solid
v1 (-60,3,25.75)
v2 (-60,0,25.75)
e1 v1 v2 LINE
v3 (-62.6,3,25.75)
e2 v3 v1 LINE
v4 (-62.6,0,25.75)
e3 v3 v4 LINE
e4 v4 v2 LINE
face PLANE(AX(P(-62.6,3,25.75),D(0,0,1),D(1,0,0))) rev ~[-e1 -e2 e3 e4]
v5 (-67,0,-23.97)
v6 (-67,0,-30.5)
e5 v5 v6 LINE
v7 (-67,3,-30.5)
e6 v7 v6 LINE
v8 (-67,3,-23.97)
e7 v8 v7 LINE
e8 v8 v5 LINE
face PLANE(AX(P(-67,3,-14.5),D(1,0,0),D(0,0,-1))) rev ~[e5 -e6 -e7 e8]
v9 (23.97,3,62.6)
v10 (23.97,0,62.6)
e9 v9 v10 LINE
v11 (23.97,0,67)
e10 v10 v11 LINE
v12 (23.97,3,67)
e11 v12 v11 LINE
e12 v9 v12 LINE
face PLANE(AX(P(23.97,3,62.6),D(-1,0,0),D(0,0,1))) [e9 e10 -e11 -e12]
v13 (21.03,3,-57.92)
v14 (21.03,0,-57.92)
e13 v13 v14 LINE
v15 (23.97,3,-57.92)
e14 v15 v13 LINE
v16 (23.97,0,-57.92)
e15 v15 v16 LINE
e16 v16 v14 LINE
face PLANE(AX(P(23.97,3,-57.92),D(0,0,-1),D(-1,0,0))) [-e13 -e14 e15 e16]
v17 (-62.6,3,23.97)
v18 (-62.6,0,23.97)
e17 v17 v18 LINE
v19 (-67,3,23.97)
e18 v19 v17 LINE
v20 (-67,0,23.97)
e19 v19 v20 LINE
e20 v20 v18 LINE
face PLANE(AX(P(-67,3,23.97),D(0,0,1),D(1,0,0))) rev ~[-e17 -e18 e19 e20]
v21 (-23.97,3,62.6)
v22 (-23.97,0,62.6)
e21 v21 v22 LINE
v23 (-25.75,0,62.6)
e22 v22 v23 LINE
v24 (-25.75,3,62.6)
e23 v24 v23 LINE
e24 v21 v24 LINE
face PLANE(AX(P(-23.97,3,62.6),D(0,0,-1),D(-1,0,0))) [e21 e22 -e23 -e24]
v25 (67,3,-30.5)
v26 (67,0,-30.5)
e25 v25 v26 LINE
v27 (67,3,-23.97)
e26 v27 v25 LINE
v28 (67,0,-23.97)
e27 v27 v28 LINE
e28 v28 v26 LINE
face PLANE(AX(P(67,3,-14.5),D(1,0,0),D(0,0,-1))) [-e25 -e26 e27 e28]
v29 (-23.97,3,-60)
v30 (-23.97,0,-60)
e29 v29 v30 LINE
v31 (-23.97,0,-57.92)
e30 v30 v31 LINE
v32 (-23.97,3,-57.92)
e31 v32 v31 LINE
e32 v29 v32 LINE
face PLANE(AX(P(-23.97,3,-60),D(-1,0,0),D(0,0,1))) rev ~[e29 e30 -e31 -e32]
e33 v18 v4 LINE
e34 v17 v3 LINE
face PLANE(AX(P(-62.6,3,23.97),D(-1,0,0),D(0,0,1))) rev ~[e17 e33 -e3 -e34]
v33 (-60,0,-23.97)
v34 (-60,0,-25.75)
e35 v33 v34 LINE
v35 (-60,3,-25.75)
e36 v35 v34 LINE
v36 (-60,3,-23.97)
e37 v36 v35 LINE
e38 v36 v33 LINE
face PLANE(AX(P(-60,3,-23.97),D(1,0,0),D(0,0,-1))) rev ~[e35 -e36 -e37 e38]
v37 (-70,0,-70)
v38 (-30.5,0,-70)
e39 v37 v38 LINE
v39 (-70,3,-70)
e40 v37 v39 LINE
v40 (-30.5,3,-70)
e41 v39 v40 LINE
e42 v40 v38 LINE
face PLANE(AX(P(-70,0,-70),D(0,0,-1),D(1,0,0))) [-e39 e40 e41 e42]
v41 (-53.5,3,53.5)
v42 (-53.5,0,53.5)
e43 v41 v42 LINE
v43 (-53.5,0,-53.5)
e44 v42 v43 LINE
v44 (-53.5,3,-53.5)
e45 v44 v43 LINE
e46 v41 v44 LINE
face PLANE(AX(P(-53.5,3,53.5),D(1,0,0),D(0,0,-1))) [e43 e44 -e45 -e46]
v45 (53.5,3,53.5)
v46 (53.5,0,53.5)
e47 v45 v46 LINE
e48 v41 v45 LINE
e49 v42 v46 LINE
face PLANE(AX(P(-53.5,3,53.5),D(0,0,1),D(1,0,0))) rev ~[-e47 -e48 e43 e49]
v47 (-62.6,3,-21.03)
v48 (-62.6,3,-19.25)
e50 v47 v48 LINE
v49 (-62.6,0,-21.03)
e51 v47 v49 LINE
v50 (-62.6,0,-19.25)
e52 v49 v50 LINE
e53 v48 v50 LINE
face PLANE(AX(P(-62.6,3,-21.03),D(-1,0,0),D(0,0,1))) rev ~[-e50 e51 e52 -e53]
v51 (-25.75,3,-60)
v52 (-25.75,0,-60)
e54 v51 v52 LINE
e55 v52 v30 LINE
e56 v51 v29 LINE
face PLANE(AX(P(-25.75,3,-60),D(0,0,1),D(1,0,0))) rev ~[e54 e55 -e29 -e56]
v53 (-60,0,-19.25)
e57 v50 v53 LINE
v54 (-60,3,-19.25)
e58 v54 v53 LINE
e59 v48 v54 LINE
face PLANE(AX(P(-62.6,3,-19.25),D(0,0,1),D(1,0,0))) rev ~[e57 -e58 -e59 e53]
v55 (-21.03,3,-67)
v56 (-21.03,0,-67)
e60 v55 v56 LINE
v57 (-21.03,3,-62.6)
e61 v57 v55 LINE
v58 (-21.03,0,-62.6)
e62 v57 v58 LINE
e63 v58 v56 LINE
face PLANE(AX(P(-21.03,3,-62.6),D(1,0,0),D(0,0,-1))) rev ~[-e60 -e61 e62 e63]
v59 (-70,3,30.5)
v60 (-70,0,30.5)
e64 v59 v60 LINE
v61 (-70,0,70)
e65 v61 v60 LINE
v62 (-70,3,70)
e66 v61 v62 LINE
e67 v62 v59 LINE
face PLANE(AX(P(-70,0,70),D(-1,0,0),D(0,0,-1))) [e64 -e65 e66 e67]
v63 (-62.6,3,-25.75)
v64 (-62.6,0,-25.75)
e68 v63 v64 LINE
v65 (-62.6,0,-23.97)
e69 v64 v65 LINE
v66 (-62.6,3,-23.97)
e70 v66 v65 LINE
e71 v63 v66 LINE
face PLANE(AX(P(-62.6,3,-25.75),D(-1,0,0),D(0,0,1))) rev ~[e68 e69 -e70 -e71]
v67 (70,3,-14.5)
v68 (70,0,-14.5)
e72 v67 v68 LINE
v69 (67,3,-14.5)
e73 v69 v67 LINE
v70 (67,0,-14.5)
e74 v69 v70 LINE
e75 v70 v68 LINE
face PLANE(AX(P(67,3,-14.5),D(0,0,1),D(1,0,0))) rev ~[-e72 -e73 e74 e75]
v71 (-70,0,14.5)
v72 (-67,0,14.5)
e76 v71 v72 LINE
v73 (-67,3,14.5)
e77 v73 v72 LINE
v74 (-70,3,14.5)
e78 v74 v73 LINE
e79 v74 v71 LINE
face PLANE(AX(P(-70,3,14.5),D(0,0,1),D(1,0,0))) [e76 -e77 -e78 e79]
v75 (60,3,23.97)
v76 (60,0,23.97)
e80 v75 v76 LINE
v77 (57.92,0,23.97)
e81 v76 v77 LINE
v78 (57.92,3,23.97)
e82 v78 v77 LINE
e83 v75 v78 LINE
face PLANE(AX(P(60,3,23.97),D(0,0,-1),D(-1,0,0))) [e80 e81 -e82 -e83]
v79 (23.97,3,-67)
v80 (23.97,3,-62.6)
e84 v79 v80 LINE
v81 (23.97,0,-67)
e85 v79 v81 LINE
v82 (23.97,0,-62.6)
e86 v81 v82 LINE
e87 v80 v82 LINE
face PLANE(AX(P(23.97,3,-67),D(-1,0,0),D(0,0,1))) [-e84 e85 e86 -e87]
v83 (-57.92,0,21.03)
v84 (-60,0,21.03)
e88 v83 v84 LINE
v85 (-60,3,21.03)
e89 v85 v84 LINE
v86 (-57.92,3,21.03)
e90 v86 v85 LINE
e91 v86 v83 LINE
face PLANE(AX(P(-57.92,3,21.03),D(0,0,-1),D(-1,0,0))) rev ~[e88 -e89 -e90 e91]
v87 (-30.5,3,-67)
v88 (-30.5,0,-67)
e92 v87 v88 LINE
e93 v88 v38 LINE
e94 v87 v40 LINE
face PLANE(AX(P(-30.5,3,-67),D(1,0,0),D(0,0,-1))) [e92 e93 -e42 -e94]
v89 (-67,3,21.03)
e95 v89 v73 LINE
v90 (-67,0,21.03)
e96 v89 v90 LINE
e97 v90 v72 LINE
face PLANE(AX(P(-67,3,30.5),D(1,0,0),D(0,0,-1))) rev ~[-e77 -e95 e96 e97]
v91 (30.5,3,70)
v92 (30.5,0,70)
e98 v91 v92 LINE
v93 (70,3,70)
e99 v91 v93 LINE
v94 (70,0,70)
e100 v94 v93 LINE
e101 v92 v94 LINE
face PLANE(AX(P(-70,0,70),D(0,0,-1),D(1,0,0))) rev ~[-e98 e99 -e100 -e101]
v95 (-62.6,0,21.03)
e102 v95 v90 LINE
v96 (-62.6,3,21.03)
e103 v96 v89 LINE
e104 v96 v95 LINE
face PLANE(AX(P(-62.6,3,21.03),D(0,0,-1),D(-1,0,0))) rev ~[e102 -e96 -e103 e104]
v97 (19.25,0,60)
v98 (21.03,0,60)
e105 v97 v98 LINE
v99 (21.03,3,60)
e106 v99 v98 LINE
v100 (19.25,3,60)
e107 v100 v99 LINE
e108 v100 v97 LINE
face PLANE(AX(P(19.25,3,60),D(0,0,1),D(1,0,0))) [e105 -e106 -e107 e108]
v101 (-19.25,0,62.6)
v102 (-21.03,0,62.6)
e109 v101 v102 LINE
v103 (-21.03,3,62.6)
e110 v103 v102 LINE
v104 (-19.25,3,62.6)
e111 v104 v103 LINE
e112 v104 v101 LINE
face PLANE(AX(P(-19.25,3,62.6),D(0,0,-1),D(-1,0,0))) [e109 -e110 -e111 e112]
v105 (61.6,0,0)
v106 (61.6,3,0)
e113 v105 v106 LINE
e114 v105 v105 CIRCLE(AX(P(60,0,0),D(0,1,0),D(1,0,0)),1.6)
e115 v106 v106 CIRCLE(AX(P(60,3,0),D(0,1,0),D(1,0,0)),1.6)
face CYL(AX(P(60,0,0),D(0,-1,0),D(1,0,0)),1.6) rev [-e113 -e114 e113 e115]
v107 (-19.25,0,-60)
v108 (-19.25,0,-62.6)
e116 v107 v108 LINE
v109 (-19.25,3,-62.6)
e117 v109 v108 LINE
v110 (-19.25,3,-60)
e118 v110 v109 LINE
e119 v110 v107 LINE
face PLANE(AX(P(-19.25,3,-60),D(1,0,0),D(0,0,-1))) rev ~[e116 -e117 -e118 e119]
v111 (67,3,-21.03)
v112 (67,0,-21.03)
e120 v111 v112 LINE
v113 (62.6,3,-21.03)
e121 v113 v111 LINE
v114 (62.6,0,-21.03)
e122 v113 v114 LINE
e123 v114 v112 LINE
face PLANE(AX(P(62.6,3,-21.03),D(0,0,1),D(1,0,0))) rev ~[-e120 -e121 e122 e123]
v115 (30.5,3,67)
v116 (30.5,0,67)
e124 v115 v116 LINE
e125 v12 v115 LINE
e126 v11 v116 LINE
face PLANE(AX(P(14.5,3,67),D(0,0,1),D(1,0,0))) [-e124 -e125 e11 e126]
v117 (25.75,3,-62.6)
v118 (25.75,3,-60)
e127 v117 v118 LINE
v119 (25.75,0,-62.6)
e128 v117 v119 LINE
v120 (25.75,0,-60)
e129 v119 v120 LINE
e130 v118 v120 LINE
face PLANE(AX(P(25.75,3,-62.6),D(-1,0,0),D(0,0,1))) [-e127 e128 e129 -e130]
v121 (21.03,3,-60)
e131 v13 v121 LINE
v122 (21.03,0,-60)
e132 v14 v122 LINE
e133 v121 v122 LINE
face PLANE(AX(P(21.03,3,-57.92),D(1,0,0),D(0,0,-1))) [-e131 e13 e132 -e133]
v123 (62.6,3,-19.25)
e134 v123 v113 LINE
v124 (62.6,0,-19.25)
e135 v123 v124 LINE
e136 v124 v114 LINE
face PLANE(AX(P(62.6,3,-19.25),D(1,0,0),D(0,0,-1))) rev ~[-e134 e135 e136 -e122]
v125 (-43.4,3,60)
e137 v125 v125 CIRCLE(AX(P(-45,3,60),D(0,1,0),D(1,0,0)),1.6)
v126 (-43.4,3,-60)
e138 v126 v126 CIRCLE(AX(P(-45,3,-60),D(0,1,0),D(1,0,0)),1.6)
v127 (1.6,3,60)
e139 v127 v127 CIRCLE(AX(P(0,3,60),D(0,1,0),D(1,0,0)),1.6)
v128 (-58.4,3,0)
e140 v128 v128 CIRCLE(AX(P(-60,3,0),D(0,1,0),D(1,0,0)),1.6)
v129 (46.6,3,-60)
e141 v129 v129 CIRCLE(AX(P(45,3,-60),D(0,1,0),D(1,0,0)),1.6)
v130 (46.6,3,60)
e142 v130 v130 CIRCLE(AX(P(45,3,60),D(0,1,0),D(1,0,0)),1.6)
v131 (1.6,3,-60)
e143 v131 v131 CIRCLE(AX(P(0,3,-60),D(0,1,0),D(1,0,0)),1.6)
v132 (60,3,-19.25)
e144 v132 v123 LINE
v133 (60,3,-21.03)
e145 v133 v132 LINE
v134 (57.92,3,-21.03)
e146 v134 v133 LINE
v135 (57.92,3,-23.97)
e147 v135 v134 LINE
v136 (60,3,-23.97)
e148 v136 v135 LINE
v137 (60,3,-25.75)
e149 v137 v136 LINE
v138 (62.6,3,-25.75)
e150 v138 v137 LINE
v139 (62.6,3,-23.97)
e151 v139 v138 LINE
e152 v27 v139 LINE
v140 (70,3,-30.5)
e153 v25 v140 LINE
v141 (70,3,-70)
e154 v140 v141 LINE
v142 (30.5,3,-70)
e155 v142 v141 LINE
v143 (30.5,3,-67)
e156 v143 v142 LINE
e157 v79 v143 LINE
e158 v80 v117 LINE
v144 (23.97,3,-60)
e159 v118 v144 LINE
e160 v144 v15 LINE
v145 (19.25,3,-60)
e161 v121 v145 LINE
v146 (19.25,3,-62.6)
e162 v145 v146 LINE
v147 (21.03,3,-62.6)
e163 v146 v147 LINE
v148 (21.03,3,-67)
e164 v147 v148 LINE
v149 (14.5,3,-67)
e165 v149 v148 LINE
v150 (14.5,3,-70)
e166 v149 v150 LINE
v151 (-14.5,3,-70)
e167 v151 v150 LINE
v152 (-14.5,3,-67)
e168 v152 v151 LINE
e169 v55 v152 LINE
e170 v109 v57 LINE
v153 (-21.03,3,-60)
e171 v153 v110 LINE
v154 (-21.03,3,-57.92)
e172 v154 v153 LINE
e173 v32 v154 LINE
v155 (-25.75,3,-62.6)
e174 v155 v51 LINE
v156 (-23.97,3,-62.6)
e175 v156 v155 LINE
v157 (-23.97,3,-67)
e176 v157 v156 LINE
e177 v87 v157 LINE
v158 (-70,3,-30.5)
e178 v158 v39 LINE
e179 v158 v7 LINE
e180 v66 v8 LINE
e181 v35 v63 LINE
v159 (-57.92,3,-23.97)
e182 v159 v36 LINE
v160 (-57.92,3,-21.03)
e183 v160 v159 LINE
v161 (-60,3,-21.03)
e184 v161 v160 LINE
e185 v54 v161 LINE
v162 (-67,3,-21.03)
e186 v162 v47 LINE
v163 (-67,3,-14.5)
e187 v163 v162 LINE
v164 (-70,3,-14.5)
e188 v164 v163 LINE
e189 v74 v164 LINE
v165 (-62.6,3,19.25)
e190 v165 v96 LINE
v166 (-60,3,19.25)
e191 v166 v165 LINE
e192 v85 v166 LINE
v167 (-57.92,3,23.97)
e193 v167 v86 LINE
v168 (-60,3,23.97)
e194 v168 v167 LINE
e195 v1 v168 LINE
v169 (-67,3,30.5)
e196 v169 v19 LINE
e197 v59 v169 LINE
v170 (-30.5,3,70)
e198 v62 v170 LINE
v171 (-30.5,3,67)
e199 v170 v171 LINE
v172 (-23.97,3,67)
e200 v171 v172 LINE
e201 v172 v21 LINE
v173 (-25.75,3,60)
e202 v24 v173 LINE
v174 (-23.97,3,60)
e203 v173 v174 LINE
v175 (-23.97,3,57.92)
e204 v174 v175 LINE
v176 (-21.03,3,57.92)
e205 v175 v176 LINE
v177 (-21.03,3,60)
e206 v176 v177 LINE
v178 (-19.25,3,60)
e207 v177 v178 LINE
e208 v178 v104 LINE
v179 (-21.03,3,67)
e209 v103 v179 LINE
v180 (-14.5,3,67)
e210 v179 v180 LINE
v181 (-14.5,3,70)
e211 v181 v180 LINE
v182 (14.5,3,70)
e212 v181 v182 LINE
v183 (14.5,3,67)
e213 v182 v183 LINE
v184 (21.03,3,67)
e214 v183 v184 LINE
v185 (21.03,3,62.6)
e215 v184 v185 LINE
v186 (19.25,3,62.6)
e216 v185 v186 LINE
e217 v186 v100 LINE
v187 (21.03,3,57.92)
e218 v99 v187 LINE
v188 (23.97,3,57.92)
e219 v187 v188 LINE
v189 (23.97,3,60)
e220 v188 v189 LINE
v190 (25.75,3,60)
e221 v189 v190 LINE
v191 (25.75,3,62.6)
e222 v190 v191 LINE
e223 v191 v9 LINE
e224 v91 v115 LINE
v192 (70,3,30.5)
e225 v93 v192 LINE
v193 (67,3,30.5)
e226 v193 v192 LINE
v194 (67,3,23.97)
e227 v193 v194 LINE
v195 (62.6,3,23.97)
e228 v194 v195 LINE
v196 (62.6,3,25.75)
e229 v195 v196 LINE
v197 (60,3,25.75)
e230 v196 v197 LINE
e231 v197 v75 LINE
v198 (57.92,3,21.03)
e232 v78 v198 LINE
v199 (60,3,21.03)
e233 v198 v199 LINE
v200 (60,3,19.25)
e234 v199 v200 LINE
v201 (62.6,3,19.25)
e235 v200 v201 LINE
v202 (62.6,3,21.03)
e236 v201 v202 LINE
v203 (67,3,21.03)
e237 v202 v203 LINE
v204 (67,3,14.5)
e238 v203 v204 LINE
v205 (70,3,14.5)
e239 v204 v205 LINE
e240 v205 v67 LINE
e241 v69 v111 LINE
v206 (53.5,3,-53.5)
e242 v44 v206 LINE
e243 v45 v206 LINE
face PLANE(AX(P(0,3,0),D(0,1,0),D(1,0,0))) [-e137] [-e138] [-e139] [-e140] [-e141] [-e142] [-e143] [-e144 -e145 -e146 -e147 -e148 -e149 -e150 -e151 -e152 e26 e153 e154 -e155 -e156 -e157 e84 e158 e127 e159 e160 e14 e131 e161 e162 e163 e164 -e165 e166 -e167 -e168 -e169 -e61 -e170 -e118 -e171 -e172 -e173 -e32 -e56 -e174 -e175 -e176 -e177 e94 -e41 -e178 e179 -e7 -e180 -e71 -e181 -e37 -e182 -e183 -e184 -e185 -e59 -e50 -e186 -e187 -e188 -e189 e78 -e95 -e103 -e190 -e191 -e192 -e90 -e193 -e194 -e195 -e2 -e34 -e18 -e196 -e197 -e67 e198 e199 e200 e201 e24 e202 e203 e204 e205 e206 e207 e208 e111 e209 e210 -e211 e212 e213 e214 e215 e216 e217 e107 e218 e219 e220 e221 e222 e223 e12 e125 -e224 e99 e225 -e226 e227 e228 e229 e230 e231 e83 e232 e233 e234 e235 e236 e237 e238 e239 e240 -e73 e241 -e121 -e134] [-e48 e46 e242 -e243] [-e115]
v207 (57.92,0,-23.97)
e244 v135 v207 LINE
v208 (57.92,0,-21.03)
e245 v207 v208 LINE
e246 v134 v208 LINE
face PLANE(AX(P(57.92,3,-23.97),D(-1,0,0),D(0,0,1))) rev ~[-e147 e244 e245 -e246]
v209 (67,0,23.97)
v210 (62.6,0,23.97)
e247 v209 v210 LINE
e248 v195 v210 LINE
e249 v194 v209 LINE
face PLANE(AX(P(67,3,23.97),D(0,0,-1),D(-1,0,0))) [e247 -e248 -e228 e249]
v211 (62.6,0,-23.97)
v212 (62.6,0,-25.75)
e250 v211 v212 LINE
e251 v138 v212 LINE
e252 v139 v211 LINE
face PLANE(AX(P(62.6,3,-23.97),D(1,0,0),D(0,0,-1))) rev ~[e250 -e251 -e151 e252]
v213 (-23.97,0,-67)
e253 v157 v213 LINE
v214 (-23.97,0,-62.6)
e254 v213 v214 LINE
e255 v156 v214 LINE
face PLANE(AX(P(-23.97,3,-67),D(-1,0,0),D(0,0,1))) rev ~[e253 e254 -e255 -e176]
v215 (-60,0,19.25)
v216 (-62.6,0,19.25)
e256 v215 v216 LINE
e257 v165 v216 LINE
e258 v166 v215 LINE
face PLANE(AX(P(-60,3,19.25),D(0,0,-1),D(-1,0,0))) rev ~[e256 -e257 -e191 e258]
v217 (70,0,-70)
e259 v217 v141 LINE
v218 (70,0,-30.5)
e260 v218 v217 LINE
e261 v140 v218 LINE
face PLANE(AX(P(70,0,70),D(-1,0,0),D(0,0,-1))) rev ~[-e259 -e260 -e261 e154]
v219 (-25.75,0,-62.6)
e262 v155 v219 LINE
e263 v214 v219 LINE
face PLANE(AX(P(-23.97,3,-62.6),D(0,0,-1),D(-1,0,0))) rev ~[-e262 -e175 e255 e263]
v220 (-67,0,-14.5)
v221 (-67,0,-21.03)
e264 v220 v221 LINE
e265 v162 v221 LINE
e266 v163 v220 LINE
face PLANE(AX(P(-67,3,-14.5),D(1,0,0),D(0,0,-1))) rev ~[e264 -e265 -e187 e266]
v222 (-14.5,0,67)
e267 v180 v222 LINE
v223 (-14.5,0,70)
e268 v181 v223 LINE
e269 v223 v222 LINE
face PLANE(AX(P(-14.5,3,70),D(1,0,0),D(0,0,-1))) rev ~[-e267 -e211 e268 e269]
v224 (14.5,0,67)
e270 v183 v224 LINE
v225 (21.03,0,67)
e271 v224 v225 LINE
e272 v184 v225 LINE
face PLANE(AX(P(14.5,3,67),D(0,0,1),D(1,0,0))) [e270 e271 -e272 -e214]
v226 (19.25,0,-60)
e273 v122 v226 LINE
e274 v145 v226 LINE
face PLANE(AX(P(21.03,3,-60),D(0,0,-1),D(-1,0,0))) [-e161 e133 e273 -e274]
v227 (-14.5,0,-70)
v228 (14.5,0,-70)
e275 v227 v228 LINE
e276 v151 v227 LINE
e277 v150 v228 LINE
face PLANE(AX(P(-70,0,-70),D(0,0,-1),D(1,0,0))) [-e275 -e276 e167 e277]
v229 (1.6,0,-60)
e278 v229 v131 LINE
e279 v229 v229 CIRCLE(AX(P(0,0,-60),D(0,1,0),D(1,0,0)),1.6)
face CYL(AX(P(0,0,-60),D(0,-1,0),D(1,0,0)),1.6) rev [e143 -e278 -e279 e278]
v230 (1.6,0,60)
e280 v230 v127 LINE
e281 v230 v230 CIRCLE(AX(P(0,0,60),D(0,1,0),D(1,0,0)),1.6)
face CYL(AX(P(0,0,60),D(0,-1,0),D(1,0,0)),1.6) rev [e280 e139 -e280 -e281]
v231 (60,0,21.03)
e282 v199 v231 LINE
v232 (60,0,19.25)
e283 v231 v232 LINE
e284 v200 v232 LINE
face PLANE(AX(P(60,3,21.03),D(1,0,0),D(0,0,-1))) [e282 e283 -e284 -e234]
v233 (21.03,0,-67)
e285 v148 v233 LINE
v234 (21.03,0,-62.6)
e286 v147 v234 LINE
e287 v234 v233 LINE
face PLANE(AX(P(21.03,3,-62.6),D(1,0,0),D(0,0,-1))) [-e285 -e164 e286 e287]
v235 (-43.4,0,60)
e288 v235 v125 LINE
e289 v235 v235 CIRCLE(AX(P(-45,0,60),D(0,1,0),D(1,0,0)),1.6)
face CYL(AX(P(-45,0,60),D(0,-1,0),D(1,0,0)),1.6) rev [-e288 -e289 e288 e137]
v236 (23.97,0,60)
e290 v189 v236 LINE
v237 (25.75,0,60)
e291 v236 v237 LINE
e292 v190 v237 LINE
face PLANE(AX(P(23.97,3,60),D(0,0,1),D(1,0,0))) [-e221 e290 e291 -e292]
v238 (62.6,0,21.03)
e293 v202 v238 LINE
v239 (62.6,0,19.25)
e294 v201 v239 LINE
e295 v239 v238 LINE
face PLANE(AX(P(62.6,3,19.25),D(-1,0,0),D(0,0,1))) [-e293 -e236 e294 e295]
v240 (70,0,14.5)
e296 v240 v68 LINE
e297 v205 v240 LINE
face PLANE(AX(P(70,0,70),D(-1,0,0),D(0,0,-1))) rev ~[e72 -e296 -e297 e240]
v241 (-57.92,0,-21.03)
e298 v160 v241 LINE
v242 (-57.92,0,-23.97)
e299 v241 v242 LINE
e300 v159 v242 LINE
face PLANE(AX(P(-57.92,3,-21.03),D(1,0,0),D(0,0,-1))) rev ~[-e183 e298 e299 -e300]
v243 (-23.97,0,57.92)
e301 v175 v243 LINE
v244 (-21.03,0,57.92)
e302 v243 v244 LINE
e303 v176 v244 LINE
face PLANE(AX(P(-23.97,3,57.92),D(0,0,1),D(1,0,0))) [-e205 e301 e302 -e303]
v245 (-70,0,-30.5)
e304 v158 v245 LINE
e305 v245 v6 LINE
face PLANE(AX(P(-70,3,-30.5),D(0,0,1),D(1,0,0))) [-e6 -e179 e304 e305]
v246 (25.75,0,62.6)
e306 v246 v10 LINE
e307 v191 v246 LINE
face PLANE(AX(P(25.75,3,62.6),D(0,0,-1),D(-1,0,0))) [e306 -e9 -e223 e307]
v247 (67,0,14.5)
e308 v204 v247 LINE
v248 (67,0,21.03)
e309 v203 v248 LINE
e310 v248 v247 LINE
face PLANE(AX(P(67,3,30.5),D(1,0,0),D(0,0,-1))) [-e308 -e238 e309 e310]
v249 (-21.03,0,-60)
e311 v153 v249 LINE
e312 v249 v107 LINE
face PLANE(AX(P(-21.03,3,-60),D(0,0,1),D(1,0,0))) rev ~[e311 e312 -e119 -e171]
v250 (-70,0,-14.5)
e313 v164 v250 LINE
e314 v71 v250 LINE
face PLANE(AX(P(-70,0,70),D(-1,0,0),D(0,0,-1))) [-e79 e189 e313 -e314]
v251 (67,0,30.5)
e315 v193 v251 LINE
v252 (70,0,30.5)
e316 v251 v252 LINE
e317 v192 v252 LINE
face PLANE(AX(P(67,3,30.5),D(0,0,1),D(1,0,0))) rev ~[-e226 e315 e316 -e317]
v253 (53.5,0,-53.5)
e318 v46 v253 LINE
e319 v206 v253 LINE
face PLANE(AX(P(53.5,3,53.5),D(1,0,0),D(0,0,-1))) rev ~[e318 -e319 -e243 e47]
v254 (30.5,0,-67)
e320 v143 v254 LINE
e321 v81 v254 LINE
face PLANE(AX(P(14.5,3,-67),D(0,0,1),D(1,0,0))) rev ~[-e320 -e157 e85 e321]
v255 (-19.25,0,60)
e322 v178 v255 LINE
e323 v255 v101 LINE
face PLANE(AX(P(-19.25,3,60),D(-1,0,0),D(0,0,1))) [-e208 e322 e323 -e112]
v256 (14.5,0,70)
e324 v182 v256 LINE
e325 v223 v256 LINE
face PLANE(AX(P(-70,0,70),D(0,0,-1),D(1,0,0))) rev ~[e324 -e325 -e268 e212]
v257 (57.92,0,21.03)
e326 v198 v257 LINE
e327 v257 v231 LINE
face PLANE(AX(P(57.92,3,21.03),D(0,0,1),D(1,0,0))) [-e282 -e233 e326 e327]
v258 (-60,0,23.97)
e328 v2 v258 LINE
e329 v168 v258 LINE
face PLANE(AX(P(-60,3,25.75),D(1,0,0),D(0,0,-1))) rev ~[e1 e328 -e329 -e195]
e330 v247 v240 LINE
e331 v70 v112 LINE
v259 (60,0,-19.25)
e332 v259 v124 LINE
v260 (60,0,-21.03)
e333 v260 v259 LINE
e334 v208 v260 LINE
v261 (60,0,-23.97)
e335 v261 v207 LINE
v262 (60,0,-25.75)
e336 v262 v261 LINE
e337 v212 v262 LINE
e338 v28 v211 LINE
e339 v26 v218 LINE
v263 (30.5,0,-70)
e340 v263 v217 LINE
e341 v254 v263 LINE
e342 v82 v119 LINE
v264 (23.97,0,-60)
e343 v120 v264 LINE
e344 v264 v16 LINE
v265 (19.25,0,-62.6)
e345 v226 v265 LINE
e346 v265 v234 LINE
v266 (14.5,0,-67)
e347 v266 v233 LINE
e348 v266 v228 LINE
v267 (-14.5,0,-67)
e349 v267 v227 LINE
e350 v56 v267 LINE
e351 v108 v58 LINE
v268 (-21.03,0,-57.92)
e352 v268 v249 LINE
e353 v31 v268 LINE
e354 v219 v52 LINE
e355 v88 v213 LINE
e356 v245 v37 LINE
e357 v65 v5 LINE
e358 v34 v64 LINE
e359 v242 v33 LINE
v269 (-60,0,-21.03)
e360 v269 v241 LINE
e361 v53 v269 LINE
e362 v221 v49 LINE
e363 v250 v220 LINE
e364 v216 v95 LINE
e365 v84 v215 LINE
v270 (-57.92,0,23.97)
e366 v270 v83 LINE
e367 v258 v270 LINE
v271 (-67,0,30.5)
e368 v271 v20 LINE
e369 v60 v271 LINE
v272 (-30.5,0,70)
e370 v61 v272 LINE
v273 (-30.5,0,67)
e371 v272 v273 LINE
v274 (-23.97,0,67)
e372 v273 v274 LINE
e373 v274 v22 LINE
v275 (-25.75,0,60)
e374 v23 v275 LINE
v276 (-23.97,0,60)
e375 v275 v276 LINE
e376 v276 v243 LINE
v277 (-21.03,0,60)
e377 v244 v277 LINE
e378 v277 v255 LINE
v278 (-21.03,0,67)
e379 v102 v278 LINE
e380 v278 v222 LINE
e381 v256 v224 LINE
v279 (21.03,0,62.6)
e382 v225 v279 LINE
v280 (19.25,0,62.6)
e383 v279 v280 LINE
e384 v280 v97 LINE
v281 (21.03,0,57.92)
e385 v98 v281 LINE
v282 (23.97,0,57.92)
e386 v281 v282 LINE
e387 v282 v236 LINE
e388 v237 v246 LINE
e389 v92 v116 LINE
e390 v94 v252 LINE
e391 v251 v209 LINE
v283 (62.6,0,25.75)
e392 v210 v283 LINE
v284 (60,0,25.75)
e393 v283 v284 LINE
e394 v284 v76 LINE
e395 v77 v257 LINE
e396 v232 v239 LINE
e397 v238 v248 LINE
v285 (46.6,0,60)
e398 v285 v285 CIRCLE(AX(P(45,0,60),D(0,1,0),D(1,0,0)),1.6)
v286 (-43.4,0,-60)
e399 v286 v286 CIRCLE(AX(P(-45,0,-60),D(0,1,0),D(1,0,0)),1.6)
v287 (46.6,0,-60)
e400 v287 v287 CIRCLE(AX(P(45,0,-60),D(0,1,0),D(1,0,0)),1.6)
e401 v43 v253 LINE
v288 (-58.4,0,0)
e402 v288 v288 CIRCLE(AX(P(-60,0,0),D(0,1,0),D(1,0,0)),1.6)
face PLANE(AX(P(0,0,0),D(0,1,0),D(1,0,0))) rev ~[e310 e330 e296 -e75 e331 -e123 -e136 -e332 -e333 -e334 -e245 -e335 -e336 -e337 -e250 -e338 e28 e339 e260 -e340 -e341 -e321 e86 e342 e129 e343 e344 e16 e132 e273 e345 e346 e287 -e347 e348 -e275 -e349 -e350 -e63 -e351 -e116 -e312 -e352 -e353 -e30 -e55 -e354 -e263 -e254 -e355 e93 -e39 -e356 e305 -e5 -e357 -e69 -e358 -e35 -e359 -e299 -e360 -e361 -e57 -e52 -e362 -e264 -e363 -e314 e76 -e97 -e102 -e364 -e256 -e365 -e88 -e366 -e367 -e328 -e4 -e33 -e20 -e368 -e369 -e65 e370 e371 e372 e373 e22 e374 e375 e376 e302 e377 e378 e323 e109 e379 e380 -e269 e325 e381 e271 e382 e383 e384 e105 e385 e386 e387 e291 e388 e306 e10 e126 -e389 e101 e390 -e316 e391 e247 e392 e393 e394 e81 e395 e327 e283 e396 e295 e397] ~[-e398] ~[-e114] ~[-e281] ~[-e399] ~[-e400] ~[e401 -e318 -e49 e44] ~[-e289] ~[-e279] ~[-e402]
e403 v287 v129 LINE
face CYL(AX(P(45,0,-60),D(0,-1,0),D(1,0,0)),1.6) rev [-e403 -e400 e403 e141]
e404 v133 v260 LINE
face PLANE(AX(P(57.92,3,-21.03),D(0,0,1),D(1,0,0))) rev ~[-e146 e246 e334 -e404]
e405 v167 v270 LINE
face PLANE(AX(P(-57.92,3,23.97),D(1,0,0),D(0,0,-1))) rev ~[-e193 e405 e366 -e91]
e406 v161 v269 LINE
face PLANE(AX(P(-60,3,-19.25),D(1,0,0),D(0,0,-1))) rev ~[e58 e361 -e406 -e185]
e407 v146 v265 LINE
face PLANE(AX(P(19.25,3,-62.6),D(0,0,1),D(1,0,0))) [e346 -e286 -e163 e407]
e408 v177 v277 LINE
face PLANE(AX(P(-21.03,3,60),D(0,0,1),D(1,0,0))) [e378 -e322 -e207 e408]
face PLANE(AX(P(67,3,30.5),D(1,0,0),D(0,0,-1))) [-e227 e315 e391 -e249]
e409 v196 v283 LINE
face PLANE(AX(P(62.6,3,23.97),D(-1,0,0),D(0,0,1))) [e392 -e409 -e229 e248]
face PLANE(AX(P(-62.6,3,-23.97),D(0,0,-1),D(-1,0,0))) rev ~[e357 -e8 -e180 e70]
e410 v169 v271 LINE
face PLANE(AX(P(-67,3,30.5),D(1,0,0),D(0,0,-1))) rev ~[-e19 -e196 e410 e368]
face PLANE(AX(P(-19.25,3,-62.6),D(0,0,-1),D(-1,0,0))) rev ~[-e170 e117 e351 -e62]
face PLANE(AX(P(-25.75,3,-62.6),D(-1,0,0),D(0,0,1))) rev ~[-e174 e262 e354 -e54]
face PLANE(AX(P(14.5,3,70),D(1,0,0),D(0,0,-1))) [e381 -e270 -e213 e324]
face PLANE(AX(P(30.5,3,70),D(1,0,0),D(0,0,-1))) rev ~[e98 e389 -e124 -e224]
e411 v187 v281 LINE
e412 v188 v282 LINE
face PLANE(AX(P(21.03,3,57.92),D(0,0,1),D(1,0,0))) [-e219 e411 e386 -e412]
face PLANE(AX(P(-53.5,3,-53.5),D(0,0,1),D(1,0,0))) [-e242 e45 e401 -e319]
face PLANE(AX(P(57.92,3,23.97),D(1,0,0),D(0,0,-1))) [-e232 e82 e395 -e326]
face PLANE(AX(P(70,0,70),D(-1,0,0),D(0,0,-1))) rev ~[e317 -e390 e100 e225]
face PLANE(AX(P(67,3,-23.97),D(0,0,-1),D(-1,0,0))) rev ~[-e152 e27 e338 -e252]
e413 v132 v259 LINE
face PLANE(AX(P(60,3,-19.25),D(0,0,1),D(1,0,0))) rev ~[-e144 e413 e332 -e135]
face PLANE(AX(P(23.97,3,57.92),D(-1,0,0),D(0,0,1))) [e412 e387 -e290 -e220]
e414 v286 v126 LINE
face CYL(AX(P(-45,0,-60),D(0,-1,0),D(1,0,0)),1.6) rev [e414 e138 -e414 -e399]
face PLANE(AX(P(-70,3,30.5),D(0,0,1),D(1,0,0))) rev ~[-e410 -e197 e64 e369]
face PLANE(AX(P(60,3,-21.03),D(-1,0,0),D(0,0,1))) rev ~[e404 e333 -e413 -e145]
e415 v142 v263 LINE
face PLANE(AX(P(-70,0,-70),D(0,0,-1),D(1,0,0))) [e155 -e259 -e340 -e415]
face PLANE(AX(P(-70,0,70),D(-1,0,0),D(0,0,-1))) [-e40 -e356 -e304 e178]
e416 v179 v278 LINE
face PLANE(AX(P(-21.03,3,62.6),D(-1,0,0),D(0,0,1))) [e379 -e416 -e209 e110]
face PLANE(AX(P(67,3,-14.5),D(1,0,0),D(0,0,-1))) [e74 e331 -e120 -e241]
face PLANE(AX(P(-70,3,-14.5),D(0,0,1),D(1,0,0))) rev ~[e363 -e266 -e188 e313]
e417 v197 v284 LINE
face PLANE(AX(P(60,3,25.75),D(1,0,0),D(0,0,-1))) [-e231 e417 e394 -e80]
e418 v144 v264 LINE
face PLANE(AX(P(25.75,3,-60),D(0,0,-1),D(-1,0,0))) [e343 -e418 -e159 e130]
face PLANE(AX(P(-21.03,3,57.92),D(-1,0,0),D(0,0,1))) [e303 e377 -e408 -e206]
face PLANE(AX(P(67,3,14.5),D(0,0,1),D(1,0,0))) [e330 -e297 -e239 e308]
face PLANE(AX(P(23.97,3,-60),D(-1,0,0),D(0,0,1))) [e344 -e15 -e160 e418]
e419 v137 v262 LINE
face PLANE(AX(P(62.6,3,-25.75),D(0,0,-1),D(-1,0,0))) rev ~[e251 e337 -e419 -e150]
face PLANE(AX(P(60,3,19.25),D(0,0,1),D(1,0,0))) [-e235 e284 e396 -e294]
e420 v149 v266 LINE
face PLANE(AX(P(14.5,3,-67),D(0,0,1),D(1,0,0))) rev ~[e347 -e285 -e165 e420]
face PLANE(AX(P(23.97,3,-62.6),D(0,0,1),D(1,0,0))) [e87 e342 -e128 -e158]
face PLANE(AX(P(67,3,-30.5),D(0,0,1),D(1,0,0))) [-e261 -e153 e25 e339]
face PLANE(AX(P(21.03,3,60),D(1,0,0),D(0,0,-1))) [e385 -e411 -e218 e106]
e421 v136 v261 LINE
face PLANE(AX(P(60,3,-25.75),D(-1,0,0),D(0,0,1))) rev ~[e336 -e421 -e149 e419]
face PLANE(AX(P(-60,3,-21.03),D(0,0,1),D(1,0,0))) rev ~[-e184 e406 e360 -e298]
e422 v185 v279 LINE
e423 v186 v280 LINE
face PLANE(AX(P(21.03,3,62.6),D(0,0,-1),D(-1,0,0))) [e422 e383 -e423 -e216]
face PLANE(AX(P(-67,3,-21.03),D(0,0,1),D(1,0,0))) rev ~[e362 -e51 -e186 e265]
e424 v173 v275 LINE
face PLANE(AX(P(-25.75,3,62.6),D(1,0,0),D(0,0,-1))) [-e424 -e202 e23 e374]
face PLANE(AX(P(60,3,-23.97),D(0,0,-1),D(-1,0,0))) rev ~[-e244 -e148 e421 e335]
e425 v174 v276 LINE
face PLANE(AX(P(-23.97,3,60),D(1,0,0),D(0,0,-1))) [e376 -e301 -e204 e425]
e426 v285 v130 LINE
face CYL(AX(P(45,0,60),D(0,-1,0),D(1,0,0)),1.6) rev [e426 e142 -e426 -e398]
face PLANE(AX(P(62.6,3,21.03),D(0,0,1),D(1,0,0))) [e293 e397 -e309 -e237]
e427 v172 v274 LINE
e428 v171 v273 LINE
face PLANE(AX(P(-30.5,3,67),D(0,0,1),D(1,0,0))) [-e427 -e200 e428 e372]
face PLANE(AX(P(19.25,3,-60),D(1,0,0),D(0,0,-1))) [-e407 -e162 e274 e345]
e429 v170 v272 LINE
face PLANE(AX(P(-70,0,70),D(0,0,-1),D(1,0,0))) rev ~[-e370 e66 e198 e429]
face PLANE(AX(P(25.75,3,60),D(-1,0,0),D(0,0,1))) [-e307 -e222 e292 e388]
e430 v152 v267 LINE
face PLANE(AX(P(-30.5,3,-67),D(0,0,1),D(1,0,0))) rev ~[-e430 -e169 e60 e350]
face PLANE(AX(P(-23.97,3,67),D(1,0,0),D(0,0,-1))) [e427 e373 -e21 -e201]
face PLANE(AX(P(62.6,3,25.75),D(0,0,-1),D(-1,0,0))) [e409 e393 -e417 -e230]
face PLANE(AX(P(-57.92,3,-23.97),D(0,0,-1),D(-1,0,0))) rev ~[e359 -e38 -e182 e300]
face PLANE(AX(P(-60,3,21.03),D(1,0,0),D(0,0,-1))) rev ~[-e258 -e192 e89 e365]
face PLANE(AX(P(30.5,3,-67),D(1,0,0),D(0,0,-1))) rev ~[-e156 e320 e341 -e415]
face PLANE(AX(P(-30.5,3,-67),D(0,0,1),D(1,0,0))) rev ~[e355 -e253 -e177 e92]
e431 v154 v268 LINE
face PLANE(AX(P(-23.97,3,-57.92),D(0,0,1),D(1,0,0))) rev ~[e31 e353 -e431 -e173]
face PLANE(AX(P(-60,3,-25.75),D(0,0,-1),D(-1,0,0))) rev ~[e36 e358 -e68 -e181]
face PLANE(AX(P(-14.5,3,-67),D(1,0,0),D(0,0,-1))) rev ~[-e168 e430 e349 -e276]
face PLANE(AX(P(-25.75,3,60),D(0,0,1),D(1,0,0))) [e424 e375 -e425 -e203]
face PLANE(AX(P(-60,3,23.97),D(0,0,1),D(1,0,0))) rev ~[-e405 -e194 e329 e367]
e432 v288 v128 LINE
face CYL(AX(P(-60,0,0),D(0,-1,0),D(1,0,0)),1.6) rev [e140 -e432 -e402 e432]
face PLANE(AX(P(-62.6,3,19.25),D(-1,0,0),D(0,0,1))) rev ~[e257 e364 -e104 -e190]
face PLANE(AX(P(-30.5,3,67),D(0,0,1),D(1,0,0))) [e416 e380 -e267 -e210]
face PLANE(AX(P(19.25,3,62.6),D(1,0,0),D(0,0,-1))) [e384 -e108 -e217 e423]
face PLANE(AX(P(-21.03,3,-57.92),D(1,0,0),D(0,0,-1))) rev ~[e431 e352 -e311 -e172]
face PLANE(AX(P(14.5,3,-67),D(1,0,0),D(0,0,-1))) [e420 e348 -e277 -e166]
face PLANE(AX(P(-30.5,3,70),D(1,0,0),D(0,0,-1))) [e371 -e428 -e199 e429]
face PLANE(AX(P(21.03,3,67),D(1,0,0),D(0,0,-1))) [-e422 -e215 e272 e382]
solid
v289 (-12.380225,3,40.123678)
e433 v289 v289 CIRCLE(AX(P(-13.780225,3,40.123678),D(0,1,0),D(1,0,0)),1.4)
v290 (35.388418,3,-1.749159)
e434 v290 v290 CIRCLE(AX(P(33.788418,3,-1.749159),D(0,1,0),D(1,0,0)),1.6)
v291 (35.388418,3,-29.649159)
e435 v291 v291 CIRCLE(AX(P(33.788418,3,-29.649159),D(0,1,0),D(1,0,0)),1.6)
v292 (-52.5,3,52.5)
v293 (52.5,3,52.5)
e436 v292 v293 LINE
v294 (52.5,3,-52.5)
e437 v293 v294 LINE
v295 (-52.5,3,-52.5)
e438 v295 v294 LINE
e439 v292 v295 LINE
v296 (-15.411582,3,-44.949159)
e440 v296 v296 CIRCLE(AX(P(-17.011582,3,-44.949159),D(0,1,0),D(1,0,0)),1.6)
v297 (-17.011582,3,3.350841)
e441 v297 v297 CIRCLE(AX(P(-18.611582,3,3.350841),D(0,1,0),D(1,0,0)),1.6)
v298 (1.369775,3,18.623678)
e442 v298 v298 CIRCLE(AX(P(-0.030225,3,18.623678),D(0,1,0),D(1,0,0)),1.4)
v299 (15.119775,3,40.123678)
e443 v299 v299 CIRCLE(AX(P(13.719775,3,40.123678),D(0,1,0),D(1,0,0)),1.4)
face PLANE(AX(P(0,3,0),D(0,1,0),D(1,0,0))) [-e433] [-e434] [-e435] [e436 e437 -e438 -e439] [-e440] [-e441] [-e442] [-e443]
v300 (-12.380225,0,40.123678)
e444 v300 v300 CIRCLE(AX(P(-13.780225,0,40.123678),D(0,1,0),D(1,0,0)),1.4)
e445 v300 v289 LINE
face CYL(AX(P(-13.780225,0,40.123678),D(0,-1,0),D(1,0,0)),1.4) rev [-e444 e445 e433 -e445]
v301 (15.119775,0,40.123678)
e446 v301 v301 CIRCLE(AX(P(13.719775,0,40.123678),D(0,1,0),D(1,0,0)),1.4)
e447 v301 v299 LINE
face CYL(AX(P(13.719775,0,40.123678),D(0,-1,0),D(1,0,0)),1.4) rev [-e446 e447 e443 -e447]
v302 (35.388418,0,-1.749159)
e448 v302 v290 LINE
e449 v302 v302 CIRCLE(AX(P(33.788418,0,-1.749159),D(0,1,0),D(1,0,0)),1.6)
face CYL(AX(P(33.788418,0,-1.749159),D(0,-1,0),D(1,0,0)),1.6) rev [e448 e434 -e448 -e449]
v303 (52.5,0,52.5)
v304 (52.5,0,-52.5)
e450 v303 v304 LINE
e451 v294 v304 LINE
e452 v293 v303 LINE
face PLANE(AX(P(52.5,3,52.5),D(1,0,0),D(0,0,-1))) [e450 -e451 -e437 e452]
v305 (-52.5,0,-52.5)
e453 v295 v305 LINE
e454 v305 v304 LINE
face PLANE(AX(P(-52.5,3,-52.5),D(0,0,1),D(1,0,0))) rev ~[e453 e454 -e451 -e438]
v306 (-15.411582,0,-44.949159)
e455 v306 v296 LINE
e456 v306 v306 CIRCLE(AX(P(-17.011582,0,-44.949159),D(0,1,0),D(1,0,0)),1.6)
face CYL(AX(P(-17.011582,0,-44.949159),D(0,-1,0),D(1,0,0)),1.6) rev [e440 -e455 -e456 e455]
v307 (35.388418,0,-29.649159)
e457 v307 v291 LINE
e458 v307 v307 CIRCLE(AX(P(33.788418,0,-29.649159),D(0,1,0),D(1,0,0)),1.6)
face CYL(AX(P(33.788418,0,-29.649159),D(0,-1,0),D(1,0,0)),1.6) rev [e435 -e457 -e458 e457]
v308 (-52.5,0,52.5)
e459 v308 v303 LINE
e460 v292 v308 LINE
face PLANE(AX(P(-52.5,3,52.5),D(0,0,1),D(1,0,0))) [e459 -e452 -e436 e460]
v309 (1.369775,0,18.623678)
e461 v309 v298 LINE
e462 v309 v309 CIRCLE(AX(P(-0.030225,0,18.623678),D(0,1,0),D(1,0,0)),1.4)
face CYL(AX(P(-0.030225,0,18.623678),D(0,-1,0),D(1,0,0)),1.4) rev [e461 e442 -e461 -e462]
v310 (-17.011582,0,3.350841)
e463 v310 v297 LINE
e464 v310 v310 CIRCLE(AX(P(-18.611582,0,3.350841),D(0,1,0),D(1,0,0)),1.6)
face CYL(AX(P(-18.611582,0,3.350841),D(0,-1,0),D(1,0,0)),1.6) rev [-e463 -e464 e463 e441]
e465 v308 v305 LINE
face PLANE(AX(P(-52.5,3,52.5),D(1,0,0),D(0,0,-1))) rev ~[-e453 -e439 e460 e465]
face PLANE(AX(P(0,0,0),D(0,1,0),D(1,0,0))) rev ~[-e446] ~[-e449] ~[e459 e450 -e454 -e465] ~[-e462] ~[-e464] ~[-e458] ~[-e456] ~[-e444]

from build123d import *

# Parameters (mm, degrees)
SKETCH2_W           = 140
SKETCH2_H           = 140
SKETCH2_R           = 1.6
SKETCH2_R_2         = 1.4
BOSS_EXTRUDE2_DEPTH = 3
SKETCH3_W           = 16
SKETCH3_H           = 3
SKETCH3_W_2         = 3
SKETCH3_H_2         = 16
CUT_EXTRUDE2_DEPTH  = 3
CUT_EXTRUDE3_DEPTH  = 3
SKETCH5_W           = 107
SKETCH5_H           = 107
SKETCH5_W_2         = 105
SKETCH5_H_2         = 105
CUT_EXTRUDE5_DEPTH  = 3


with BuildPart() as part:
    # Sketch2 → Boss-Extrude2 (new body)
    with BuildSketch(Plane(origin=(0, 0, 0), x_dir=(1, 0, 0), z_dir=(0, 1, 0))):
        Rectangle(SKETCH2_W, SKETCH2_H)
        with Locations((-17.011581703, 44.949159058)):
            Circle(SKETCH2_R, mode=Mode.SUBTRACT)
        with Locations((-18.611581703, -3.350840942)):
            Circle(SKETCH2_R, mode=Mode.SUBTRACT)
        with Locations((33.788418297, 29.649159058)):
            Circle(SKETCH2_R, mode=Mode.SUBTRACT)
        with Locations((33.788418297, 1.749159058)):
            Circle(SKETCH2_R, mode=Mode.SUBTRACT)
        with Locations((0, 60)):
            Circle(SKETCH2_R, mode=Mode.SUBTRACT)
        with Locations((-60, 0)):
            Circle(SKETCH2_R, mode=Mode.SUBTRACT)
        with Locations((0, -60)):
            Circle(SKETCH2_R, mode=Mode.SUBTRACT)
        with Locations((60, 0)):
            Circle(SKETCH2_R, mode=Mode.SUBTRACT)
        with Locations((-45, 60)):
            Circle(SKETCH2_R, mode=Mode.SUBTRACT)
        with Locations((45, 60)):
            Circle(SKETCH2_R, mode=Mode.SUBTRACT)
        with Locations((-45, -60)):
            Circle(SKETCH2_R, mode=Mode.SUBTRACT)
        with Locations((45, -60)):
            Circle(SKETCH2_R, mode=Mode.SUBTRACT)
        with Locations((-0.030225379, -18.62367845)):
            Circle(SKETCH2_R_2, mode=Mode.SUBTRACT)
        with Locations((-13.780225379, -40.12367845)):
            Circle(SKETCH2_R_2, mode=Mode.SUBTRACT)
        with Locations((13.719774621, -40.12367845)):
            Circle(SKETCH2_R_2, mode=Mode.SUBTRACT)
    extrude(amount=BOSS_EXTRUDE2_DEPTH)

    # Sketch3 → Cut-Extrude2 (cut)
    with BuildSketch(Plane(origin=(0, 3, 0), x_dir=(1, 0, 0), z_dir=(0, 1, 0))):
        with Locations((-22.5, 68.5)):
            Rectangle(SKETCH3_W, SKETCH3_H)
        with Locations((-22.5, -68.5)):
            Rectangle(SKETCH3_W, SKETCH3_H)
        with Locations((22.5, -68.5)):
            Rectangle(SKETCH3_W, SKETCH3_H)
        with Locations((22.5, 68.5)):
            Rectangle(SKETCH3_W, SKETCH3_H)
        with Locations((-68.5, 22.5)):
            Rectangle(SKETCH3_W_2, SKETCH3_H_2)
        with Locations((68.5, 22.5)):
            Rectangle(SKETCH3_W_2, SKETCH3_H_2)
        with Locations((68.5, -22.5)):
            Rectangle(SKETCH3_W_2, SKETCH3_H_2)
        with Locations((-68.5, -22.5)):
            Rectangle(SKETCH3_W_2, SKETCH3_H_2)
    extrude(amount=-CUT_EXTRUDE2_DEPTH, mode=Mode.SUBTRACT)

    # Sketch4 → Cut-Extrude3 (cut)
    with BuildSketch(Plane(origin=(0, 3, 0), x_dir=(1, 0, 0), z_dir=(0, 1, 0))):
        Polygon((-23.97, 67), (-23.97, 62.6), (-25.75, 62.6), (-25.75, 60), (-23.97, 60), (-23.97, 57.92), (-21.03, 57.92), (-21.03, 60), (-19.25, 60), (-19.25, 62.6), (-21.03, 62.6), (-21.03, 67), align=None)
        Polygon((-23.97, -62.6), (-25.75, -62.6), (-25.75, -60), (-23.97, -60), (-23.97, -57.92), (-21.03, -57.92), (-21.03, -60), (-19.25, -60), (-19.25, -62.6), (-21.03, -62.6), (-21.03, -67), (-23.97, -67), align=None)
        Polygon((21.03, -60), (21.03, -57.92), (23.97, -57.92), (23.97, -60), (25.75, -60), (25.75, -62.6), (23.97, -62.6), (23.97, -67), (21.03, -67), (21.03, -62.6), (19.25, -62.6), (19.25, -60), align=None)
        Polygon((21.03, 67), (23.97, 67), (23.97, 62.6), (25.75, 62.6), (25.75, 60), (23.97, 60), (23.97, 57.92), (21.03, 57.92), (21.03, 60), (19.25, 60), (19.25, 62.6), (21.03, 62.6), align=None)
        Polygon((67, 23.97), (62.6, 23.97), (62.6, 25.75), (60, 25.75), (60, 23.97), (57.92, 23.97), (57.92, 21.03), (60, 21.03), (60, 19.25), (62.6, 19.25), (62.6, 21.03), (67, 21.03), align=None)
        Polygon((-67, 23.97), (-67, 21.03), (-62.6, 21.03), (-62.6, 19.25), (-60, 19.25), (-60, 21.03), (-57.92, 21.03), (-57.92, 23.97), (-60, 23.97), (-60, 25.75), (-62.6, 25.75), (-62.6, 23.97), align=None)
        Polygon((-67, -23.97), (-62.6, -23.97), (-62.6, -25.75), (-60, -25.75), (-60, -23.97), (-57.92, -23.97), (-57.92, -21.03), (-60, -21.03), (-60, -19.25), (-62.6, -19.25), (-62.6, -21.03), (-67, -21.03), align=None)
        Polygon((67, -23.97), (62.6, -23.97), (62.6, -25.75), (60, -25.75), (60, -23.97), (57.92, -23.97), (57.92, -21.03), (60, -21.03), (60, -19.25), (62.6, -19.25), (62.6, -21.03), (67, -21.03), align=None)
    extrude(amount=-CUT_EXTRUDE3_DEPTH, mode=Mode.SUBTRACT)

    # Sketch5 → Cut-Extrude5 (cut)
    with BuildSketch(Plane(origin=(0, 3, 0), x_dir=(1, 0, 0), z_dir=(0, 1, 0))):
        Rectangle(SKETCH5_W, SKETCH5_H)
        Rectangle(SKETCH5_W_2, SKETCH5_H_2, mode=Mode.SUBTRACT)
    extrude(amount=-CUT_EXTRUDE5_DEPTH, mode=Mode.SUBTRACT)


solid = part.part
